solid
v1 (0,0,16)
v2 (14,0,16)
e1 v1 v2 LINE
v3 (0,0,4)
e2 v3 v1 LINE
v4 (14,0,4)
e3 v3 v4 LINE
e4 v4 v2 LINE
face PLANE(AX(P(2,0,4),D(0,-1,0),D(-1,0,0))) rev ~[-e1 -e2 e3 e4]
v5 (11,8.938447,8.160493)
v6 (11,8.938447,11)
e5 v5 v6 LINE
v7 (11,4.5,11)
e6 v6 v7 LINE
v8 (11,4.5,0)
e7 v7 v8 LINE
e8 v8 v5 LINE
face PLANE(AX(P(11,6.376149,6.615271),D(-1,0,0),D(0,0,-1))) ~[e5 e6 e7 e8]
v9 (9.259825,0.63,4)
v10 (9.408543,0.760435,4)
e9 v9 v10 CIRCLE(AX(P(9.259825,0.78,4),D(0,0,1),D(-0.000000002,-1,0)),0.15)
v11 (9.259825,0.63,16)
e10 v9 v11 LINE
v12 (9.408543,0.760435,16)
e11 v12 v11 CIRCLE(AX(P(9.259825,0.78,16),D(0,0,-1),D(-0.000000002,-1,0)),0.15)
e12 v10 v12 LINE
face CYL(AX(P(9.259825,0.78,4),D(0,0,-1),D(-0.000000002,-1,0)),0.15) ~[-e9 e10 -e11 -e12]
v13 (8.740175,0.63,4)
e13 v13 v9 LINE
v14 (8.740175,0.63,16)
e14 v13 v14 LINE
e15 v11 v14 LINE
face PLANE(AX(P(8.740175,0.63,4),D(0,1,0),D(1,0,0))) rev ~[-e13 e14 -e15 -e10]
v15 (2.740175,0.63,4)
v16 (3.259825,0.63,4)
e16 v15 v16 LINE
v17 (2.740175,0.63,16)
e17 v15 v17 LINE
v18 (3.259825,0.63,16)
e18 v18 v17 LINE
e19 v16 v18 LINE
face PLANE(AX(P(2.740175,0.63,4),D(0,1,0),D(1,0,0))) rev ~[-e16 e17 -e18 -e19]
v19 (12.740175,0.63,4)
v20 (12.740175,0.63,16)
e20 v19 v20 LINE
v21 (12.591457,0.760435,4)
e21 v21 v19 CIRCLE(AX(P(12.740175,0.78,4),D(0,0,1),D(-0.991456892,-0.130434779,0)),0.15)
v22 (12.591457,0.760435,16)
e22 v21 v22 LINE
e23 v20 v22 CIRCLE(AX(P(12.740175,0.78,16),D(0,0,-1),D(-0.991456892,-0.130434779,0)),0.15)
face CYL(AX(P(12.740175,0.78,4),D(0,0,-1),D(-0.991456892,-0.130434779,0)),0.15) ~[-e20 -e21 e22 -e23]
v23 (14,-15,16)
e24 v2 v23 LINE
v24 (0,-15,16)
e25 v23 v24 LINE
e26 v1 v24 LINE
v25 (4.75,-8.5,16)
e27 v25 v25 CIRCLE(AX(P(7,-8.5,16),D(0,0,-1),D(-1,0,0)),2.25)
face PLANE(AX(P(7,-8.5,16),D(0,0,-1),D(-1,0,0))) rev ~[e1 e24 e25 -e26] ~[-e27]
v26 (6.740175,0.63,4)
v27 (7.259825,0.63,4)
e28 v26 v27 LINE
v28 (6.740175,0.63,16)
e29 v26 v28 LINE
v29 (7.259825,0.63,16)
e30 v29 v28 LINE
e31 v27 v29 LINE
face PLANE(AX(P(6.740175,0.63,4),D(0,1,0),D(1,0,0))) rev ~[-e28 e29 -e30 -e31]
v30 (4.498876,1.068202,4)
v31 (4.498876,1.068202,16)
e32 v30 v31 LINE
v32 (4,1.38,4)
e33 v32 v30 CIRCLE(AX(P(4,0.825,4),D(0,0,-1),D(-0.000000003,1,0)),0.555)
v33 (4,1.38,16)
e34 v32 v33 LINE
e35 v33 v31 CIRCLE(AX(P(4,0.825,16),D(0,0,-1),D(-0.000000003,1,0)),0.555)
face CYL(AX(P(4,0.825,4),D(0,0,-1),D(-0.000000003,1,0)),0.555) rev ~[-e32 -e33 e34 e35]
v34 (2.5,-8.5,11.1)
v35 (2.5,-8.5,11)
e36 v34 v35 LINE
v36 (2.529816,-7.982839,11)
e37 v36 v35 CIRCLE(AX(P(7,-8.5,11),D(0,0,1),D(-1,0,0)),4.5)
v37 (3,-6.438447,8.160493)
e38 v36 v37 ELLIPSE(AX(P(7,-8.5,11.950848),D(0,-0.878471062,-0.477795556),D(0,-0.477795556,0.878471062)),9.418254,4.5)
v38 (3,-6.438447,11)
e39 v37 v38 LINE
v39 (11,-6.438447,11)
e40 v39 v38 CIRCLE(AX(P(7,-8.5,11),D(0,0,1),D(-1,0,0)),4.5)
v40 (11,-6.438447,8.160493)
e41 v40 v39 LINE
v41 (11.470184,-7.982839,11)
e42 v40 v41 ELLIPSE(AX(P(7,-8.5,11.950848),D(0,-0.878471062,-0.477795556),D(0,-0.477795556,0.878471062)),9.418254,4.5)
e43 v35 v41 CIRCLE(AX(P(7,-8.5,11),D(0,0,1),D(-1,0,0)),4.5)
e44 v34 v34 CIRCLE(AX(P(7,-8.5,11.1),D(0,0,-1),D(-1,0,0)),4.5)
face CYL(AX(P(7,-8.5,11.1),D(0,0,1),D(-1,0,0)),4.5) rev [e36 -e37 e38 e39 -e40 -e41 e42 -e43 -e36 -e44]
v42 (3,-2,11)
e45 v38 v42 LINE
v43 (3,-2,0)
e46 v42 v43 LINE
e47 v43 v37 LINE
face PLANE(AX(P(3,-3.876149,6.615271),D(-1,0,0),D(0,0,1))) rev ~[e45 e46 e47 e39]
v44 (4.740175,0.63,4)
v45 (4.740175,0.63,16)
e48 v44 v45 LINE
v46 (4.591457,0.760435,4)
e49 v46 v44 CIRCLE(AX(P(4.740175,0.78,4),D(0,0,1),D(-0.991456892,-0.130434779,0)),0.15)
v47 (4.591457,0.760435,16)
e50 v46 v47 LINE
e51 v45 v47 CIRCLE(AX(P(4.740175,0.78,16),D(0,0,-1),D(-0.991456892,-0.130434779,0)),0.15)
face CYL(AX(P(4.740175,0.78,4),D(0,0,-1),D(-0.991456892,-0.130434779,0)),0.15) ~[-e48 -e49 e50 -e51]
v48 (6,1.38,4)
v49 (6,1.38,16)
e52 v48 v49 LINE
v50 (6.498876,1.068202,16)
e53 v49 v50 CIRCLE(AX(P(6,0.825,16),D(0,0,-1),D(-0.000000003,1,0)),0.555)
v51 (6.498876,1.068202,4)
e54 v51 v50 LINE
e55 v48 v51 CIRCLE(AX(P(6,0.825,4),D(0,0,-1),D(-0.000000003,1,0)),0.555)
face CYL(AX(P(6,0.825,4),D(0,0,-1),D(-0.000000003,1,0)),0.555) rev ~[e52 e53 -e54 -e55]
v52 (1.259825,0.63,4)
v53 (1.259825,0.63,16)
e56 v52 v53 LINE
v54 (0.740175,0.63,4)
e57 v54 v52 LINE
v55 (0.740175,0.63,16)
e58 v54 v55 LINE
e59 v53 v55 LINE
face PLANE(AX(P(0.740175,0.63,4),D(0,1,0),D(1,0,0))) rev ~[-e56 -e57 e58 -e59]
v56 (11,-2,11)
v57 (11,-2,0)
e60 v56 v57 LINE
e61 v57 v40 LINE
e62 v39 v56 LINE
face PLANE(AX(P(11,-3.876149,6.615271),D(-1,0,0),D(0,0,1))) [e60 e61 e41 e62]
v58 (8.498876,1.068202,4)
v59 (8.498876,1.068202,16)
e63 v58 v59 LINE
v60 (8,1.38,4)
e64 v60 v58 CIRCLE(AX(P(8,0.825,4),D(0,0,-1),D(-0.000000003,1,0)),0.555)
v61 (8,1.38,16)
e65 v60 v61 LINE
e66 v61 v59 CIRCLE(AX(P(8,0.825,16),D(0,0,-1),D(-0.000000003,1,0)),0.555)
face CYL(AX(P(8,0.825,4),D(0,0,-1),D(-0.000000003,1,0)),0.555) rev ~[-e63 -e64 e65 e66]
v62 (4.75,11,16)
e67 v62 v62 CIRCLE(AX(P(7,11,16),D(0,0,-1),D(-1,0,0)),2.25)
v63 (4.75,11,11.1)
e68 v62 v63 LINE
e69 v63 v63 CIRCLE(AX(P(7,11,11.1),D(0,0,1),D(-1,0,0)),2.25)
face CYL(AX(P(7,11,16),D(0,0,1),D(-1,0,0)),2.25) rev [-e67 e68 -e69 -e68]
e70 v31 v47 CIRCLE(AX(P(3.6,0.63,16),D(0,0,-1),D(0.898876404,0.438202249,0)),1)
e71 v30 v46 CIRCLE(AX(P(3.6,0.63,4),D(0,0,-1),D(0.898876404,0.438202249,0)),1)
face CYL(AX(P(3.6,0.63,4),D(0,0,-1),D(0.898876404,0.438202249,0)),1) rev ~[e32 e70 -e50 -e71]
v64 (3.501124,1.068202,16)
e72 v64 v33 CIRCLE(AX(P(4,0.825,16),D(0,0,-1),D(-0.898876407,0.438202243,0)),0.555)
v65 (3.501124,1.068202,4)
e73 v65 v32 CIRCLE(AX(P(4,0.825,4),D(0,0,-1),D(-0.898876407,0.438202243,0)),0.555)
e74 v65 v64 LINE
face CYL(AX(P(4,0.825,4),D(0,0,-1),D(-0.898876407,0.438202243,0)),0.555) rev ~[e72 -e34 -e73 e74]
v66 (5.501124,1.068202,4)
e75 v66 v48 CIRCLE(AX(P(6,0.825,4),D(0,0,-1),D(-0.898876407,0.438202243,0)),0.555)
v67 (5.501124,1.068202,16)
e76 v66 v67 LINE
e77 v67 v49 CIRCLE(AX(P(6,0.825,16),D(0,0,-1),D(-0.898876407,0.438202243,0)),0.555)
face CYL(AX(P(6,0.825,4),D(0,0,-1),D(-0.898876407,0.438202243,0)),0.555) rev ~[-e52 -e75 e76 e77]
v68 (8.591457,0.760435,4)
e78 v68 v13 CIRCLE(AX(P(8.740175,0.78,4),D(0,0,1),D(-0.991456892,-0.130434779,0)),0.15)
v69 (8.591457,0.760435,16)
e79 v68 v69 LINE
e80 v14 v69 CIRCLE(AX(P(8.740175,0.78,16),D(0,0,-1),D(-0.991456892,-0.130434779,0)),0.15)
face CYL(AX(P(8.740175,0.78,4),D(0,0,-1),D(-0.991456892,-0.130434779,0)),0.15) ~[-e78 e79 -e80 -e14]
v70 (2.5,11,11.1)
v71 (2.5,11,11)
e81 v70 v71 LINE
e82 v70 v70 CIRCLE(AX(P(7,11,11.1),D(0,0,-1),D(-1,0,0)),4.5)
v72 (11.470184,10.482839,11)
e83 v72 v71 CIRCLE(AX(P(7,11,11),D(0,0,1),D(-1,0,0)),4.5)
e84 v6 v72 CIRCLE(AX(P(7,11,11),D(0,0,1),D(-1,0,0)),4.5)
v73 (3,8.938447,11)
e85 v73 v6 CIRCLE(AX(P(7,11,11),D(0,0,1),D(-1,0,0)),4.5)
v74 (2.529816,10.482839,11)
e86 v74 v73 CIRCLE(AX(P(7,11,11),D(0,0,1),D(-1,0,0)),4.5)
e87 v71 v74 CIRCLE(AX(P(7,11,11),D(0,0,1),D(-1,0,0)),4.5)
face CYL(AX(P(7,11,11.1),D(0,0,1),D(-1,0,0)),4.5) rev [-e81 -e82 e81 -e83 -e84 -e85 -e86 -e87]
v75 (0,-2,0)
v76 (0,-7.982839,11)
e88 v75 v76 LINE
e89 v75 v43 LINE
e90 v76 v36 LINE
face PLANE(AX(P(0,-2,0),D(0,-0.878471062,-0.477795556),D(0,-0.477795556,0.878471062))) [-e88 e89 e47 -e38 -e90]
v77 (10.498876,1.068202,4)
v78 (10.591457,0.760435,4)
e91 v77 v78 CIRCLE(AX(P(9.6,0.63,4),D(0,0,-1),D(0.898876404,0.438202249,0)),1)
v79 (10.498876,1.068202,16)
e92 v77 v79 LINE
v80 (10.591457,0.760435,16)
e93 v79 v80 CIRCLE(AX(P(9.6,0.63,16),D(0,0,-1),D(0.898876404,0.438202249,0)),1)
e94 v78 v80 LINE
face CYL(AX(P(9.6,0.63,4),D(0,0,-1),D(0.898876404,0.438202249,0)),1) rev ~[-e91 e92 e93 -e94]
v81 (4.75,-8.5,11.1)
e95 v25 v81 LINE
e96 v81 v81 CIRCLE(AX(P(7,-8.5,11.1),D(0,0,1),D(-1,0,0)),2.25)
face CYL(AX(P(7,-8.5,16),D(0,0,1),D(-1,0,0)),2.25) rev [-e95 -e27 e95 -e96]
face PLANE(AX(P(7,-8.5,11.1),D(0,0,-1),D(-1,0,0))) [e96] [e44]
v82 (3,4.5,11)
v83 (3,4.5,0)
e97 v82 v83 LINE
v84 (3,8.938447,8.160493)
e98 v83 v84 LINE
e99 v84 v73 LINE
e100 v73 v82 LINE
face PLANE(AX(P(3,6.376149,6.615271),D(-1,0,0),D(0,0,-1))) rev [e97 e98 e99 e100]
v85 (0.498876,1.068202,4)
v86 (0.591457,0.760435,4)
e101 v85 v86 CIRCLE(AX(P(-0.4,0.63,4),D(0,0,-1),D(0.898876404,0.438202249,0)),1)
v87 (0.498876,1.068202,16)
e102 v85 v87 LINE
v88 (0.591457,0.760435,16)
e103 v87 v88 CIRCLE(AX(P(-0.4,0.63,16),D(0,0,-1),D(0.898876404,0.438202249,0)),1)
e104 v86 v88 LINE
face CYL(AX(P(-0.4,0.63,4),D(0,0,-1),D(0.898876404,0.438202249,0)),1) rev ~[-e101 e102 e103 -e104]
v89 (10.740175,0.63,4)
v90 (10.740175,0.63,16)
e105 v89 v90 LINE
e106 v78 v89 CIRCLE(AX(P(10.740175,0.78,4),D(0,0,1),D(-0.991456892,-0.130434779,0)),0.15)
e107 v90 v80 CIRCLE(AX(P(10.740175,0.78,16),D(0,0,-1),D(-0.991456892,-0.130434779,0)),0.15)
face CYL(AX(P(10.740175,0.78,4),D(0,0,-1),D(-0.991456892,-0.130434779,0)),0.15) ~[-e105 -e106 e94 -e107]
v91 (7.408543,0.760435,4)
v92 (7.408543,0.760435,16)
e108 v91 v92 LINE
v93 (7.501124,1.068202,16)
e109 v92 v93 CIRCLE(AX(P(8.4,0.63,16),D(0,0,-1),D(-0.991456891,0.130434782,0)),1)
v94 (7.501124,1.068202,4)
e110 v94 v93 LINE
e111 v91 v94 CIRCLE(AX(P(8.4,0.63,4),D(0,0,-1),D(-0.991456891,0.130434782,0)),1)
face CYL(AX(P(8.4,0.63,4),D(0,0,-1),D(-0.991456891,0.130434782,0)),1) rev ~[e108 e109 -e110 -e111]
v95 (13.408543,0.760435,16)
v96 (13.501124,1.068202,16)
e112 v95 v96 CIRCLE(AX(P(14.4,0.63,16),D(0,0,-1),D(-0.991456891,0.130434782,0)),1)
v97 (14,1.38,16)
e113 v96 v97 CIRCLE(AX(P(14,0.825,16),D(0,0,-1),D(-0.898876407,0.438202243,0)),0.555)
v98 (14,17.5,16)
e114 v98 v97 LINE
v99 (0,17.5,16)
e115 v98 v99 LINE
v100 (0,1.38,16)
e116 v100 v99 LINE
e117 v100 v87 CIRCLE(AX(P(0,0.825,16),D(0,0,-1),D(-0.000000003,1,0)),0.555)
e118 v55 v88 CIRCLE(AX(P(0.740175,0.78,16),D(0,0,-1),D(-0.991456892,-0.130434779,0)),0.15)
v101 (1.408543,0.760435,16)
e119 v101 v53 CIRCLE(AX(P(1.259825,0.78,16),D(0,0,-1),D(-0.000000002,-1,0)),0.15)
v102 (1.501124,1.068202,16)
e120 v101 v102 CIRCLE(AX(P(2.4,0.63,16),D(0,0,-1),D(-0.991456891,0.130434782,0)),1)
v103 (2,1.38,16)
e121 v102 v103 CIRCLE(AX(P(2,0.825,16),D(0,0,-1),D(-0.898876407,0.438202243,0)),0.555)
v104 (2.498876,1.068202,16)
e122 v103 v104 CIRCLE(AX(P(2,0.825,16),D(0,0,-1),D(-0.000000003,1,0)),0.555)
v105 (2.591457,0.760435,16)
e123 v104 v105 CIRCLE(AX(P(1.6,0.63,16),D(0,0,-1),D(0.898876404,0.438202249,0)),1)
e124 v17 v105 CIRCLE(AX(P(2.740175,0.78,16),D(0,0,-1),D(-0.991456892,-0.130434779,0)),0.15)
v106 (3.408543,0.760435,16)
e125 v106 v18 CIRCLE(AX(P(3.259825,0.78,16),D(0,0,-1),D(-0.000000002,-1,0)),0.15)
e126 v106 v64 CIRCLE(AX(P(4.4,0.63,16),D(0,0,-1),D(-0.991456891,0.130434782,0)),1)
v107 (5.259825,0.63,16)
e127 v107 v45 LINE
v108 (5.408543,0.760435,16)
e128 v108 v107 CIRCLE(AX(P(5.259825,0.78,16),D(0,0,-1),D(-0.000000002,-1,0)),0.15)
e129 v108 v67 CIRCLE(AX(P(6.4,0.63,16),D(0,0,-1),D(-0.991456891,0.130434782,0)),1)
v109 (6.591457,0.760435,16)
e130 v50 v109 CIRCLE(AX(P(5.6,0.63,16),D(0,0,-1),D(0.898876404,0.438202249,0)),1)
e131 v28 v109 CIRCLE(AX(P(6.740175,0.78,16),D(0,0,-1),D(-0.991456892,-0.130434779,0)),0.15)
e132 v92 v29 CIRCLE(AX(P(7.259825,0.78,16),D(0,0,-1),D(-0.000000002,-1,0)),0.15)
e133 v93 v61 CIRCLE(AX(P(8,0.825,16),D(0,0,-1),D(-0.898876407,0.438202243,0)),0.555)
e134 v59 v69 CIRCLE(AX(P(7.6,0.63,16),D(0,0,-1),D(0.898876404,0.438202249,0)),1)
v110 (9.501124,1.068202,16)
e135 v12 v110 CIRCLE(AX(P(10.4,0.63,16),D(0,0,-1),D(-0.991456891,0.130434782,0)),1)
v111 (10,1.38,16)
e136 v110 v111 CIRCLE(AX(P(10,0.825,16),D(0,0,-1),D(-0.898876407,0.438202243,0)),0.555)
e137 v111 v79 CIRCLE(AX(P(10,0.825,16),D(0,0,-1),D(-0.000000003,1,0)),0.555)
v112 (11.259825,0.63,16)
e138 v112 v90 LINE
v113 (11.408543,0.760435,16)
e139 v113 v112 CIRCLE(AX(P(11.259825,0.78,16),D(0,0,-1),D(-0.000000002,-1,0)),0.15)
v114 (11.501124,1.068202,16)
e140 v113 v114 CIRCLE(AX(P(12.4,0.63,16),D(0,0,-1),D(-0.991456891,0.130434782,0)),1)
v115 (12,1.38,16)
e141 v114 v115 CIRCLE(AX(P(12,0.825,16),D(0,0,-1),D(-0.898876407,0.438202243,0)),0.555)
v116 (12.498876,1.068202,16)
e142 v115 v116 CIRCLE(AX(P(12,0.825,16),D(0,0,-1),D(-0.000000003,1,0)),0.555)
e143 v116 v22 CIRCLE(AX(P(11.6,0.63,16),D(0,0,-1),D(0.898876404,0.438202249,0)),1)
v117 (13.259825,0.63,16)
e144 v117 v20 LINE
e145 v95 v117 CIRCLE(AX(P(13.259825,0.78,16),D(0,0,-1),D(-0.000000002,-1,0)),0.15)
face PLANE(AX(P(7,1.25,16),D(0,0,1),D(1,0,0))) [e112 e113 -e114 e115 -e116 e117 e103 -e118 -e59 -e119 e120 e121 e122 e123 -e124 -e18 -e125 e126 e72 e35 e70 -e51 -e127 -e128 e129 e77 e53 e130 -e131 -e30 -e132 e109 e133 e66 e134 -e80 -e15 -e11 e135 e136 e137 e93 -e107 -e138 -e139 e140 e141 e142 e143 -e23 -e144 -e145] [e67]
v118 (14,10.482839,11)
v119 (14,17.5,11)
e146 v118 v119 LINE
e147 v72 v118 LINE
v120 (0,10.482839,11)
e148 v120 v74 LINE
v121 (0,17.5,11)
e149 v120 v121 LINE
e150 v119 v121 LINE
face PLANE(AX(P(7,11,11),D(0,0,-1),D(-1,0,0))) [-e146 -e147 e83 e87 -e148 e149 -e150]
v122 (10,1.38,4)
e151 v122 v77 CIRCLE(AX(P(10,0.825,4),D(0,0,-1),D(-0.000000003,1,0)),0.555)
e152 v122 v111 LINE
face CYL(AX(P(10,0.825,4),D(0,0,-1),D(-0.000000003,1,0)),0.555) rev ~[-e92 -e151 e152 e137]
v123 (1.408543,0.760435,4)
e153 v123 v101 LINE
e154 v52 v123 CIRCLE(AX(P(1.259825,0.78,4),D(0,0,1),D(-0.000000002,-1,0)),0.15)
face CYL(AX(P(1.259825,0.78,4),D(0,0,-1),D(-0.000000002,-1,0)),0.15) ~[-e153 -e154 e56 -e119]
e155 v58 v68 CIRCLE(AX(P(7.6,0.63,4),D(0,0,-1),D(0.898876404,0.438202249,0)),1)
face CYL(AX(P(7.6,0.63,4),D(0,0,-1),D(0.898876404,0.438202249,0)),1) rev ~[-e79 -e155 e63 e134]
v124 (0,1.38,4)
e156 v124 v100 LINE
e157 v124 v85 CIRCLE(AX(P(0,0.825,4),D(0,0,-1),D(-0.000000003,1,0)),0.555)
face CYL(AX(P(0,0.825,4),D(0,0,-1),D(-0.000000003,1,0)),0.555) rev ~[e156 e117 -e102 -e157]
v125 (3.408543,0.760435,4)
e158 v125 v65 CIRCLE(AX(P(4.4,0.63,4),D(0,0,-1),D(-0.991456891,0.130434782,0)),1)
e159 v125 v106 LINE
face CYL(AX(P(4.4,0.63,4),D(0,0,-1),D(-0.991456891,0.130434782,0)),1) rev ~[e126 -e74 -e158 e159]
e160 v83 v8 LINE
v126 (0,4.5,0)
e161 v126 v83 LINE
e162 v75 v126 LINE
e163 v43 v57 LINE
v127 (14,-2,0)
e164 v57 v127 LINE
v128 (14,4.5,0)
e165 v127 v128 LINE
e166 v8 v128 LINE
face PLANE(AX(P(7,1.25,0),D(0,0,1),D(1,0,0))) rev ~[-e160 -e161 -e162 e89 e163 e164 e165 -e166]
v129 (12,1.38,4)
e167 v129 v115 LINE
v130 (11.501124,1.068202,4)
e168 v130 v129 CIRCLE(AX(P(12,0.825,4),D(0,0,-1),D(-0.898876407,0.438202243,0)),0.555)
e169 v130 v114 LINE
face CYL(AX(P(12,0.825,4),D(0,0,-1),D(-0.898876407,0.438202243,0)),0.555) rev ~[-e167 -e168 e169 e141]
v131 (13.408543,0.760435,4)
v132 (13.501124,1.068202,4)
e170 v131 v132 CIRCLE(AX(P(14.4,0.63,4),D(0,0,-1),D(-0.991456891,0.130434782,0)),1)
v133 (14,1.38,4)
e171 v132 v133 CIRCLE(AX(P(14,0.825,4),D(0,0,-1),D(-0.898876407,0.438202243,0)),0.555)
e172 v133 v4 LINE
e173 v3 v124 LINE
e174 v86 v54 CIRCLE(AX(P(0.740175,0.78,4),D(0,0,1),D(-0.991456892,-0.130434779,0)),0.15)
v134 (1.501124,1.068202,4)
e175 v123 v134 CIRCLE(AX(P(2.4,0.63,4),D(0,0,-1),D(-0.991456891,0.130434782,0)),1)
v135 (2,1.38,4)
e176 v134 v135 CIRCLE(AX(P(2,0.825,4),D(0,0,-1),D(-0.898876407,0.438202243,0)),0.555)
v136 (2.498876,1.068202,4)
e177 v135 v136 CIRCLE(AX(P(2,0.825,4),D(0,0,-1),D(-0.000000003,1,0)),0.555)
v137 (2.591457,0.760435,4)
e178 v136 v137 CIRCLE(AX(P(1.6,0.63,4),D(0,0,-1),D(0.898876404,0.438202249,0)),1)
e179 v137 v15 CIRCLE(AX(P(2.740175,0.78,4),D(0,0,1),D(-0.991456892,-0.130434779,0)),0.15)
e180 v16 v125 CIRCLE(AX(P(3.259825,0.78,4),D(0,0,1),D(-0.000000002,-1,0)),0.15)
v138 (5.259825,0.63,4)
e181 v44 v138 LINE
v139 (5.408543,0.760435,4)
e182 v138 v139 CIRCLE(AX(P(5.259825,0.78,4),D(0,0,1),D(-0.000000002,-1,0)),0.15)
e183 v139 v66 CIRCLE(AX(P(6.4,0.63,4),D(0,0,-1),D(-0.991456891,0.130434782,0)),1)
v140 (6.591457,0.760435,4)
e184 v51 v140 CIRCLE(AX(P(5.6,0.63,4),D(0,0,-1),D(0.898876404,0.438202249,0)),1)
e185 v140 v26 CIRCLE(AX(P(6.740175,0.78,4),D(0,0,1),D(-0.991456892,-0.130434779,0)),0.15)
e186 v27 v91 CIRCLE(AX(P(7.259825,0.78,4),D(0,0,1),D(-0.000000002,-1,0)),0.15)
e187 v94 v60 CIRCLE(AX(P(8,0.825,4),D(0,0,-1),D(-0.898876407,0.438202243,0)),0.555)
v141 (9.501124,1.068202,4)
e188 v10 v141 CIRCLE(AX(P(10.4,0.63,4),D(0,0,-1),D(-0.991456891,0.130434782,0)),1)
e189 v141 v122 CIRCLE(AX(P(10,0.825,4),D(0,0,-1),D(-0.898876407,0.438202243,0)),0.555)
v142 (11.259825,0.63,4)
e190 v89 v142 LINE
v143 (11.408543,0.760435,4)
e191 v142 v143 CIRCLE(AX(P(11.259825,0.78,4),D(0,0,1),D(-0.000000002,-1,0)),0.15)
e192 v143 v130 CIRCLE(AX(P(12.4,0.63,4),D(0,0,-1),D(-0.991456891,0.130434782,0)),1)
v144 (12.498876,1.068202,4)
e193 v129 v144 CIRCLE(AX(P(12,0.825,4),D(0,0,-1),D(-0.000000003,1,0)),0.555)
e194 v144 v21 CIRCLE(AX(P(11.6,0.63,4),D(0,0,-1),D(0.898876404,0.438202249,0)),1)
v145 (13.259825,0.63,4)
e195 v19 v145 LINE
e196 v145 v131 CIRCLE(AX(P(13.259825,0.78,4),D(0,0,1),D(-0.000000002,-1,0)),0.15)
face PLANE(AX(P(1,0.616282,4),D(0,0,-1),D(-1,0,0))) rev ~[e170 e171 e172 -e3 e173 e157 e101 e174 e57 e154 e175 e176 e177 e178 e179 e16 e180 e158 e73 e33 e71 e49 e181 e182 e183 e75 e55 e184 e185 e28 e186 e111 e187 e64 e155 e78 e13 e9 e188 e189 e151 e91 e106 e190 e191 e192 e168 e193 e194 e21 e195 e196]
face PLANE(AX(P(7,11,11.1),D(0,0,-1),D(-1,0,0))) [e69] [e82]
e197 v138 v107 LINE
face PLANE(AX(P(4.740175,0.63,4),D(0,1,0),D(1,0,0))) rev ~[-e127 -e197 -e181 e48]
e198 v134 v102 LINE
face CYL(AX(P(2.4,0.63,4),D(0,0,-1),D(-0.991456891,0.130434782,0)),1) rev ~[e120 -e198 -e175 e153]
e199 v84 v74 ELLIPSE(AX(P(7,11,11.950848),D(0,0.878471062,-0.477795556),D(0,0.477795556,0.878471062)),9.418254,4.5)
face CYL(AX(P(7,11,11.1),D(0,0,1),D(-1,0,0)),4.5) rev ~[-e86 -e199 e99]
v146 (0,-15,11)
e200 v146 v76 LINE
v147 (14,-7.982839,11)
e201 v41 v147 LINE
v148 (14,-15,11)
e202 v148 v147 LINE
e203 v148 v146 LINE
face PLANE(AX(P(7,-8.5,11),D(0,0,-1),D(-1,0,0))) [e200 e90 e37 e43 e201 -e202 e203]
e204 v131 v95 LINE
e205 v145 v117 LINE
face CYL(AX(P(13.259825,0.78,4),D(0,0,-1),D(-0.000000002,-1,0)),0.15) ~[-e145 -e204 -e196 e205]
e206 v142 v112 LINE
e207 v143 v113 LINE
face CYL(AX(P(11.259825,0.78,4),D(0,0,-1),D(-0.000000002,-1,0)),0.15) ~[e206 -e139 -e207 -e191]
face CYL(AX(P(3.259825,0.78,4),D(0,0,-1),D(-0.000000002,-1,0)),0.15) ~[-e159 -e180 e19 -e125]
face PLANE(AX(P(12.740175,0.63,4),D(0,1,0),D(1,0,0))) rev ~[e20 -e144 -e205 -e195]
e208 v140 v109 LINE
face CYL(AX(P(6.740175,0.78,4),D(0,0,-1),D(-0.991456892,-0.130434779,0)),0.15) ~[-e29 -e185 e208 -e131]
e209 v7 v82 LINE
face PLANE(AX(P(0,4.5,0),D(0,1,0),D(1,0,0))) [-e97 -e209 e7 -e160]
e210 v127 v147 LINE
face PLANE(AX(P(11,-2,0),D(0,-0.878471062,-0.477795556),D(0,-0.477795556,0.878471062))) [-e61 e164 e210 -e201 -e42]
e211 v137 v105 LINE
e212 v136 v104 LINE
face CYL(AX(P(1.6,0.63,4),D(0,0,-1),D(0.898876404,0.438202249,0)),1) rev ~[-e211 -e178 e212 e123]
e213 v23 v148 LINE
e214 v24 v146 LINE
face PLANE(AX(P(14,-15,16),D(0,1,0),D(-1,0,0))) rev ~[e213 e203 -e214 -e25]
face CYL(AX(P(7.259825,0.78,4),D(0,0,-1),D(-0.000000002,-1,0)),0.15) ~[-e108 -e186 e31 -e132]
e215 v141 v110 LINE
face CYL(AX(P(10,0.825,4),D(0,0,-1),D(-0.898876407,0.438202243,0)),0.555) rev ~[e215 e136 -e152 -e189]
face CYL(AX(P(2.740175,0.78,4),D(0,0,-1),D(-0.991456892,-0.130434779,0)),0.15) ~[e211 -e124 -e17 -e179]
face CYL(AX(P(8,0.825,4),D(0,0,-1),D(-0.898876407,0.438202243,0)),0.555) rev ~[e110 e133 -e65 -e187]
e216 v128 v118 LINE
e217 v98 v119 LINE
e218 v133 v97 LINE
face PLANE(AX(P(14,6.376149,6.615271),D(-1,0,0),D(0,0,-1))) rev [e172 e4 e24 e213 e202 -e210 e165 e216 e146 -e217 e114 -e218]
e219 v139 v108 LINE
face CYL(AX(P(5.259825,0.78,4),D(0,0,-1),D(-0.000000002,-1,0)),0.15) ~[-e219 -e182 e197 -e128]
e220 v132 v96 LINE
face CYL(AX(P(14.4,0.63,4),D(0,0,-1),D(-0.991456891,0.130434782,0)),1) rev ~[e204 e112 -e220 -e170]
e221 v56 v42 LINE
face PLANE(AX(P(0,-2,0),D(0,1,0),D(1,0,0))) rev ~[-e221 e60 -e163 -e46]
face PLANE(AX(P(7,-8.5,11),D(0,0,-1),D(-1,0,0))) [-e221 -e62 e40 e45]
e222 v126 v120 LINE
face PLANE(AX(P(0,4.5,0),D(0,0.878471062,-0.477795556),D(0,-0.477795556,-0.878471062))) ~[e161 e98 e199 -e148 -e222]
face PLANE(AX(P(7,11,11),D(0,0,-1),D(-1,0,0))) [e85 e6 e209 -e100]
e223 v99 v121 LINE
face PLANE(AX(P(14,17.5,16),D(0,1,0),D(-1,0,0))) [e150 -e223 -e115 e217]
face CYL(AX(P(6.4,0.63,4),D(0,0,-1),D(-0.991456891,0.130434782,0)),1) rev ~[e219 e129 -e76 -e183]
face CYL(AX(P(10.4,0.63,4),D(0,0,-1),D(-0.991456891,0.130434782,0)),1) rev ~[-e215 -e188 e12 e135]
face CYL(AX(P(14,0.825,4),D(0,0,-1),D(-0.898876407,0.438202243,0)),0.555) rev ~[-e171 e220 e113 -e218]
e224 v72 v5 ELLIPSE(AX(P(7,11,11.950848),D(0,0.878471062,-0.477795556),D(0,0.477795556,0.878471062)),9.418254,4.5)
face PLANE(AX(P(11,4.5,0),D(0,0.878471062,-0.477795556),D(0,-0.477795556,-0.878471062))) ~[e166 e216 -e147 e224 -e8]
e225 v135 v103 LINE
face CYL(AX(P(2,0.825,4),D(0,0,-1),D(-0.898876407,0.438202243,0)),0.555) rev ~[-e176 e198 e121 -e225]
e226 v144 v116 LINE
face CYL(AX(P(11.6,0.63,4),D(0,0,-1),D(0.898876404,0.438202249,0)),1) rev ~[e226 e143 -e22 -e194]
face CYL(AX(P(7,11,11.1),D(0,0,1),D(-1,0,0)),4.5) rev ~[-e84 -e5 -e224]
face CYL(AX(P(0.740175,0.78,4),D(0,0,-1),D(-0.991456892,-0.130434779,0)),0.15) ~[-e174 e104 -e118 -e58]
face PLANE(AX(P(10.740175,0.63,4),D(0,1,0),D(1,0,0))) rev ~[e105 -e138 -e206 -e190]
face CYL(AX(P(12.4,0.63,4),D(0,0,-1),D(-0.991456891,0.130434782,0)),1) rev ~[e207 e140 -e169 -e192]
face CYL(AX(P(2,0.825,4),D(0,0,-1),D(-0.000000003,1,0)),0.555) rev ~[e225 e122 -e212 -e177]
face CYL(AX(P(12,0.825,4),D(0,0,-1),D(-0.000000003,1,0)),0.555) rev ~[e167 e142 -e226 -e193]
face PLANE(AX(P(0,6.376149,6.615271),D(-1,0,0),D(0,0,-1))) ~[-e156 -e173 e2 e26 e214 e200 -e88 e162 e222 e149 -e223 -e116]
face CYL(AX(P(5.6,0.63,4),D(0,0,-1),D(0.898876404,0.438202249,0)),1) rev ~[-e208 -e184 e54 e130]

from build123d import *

# Parameters (mm, degrees)
SKETCH3_W           = 14
SKETCH3_H           = 6.5
BOSS_EXTRUDE2_DEPTH = 16
CUT_EXTRUDE1_START  = 4
CUT_EXTRUDE1_DEPTH  = 19
LPATTERN2_COUNT     = 7
LPATTERN2_PITCH     = 2
SKETCH4_W           = 14
SKETCH4_H           = 13
SKETCH4_R           = 2.25
BOSS_EXTRUDE3_DEPTH = 5
BOSS_EXTRUDE4_DEPTH = 3
BOSS_EXTRUDE5_START = -11
BOSS_EXTRUDE5_DEPTH = 3
CUT_EXTRUDE2_START  = -0.1
SKETCH5_R           = 4.5
CUT_EXTRUDE2_DEPTH  = 10.1


with BuildPart() as part:
    # Sketch3 → Boss-Extrude2 (new body)
    with BuildSketch(Plane.XY):
        with Locations((7, 1.25)):
            Rectangle(SKETCH3_W, SKETCH3_H)
    extrude(amount=BOSS_EXTRUDE2_DEPTH)

    # Sketch1 → Cut-Extrude1 (cut)
    with BuildSketch(Plane.XY.offset(CUT_EXTRUDE1_START)):
        with BuildLine():
            Line((0.740175425, 0.63), (1.259824575, 0.63))
            ThreePointArc((1.259824575, 0.63), (1.358731646, 0.667228588), (1.408543109, 0.760434783))
            ThreePointArc((1.408543109, 0.760434783), (1.442388286, 0.918062154), (1.501123596, 1.068202247))
            ThreePointArc((1.501123596, 1.068202247), (1.705850588, 1.295639059), (2, 1.38))
            Line((2, 1.38), (2, 0))
            Line((2, 0), (0, 0))
            Line((0, 0), (0, 1.38))
            ThreePointArc((0, 1.38), (0.294149412, 1.295639059), (0.498876404, 1.068202247))
            ThreePointArc((0.498876404, 1.068202247), (0.557611714, 0.918062154), (0.591456891, 0.760434783))
            ThreePointArc((0.591456891, 0.760434783), (0.641268354, 0.667228588), (0.740175425, 0.63))
        make_face()
    cut_extrude1 = extrude(amount=CUT_EXTRUDE1_DEPTH, mode=Mode.SUBTRACT)

    # LPattern2: Cut-Extrude1 ×7
    with Locations(*[(i * LPATTERN2_PITCH, 0, 0) for i in range(1, LPATTERN2_COUNT)]):
        add(cut_extrude1, mode=Mode.SUBTRACT)

    # Sketch4 → Boss-Extrude3 (add)
    # profile 1 of 2: a face of its own
    with BuildSketch(Plane(origin=(0, 4.5, 16), x_dir=(-1, 0, 0), z_dir=(0, 0, -1))):
        with Locations((-7, -13)):
            Rectangle(SKETCH4_W, SKETCH4_H)
        with Locations((-7, -13)):
            Circle(SKETCH4_R, mode=Mode.SUBTRACT)
    # profile 2 of 2: a face of its own
    with BuildSketch(Plane(origin=(0, 4.5, 16), x_dir=(-1, 0, 0), z_dir=(0, 0, -1))):
        with Locations((-7, 6.5)):
            Rectangle(SKETCH4_W, SKETCH4_H)
        with Locations((-7, 6.5)):
            Circle(SKETCH4_R, mode=Mode.SUBTRACT)
    extrude(amount=BOSS_EXTRUDE3_DEPTH)

    # Sketch7 → Boss-Extrude4 (add)
    with BuildSketch(Plane.ZY):
        Polygon((0, -2), (11, -7.982839213), (11, -2), align=None)
    boss_extrude4 = extrude(amount=-BOSS_EXTRUDE4_DEPTH)

    # Sketch7<2> → Boss-Extrude5 (add)
    with BuildSketch(Plane.ZY.offset(BOSS_EXTRUDE5_START)):
        Polygon((0, -2), (11, -7.982839213), (11, -2), align=None)
    boss_extrude5 = extrude(amount=-BOSS_EXTRUDE5_DEPTH)

    # Sketch5 → Cut-Extrude2 (cut)
    with BuildSketch(Plane(origin=(0, 0, 11), x_dir=(-1, 0, 0), z_dir=(0, 0, -1)).offset(CUT_EXTRUDE2_START)):
        with Locations((-7, 11)):
            Circle(SKETCH5_R)
        with Locations((-7, -8.5)):
            Circle(SKETCH5_R)
    cut_extrude2 = extrude(amount=CUT_EXTRUDE2_DEPTH, mode=Mode.SUBTRACT)

    # Mirror1: Boss-Extrude4, Boss-Extrude5, Cut-Extrude2 across plane
    add(boss_extrude4.mirror(Plane.ZX.offset(1.25)))
    add(boss_extrude5.mirror(Plane.ZX.offset(1.25)))
    add(cut_extrude2.mirror(Plane.ZX.offset(1.25)), mode=Mode.SUBTRACT)


solid = part.part
